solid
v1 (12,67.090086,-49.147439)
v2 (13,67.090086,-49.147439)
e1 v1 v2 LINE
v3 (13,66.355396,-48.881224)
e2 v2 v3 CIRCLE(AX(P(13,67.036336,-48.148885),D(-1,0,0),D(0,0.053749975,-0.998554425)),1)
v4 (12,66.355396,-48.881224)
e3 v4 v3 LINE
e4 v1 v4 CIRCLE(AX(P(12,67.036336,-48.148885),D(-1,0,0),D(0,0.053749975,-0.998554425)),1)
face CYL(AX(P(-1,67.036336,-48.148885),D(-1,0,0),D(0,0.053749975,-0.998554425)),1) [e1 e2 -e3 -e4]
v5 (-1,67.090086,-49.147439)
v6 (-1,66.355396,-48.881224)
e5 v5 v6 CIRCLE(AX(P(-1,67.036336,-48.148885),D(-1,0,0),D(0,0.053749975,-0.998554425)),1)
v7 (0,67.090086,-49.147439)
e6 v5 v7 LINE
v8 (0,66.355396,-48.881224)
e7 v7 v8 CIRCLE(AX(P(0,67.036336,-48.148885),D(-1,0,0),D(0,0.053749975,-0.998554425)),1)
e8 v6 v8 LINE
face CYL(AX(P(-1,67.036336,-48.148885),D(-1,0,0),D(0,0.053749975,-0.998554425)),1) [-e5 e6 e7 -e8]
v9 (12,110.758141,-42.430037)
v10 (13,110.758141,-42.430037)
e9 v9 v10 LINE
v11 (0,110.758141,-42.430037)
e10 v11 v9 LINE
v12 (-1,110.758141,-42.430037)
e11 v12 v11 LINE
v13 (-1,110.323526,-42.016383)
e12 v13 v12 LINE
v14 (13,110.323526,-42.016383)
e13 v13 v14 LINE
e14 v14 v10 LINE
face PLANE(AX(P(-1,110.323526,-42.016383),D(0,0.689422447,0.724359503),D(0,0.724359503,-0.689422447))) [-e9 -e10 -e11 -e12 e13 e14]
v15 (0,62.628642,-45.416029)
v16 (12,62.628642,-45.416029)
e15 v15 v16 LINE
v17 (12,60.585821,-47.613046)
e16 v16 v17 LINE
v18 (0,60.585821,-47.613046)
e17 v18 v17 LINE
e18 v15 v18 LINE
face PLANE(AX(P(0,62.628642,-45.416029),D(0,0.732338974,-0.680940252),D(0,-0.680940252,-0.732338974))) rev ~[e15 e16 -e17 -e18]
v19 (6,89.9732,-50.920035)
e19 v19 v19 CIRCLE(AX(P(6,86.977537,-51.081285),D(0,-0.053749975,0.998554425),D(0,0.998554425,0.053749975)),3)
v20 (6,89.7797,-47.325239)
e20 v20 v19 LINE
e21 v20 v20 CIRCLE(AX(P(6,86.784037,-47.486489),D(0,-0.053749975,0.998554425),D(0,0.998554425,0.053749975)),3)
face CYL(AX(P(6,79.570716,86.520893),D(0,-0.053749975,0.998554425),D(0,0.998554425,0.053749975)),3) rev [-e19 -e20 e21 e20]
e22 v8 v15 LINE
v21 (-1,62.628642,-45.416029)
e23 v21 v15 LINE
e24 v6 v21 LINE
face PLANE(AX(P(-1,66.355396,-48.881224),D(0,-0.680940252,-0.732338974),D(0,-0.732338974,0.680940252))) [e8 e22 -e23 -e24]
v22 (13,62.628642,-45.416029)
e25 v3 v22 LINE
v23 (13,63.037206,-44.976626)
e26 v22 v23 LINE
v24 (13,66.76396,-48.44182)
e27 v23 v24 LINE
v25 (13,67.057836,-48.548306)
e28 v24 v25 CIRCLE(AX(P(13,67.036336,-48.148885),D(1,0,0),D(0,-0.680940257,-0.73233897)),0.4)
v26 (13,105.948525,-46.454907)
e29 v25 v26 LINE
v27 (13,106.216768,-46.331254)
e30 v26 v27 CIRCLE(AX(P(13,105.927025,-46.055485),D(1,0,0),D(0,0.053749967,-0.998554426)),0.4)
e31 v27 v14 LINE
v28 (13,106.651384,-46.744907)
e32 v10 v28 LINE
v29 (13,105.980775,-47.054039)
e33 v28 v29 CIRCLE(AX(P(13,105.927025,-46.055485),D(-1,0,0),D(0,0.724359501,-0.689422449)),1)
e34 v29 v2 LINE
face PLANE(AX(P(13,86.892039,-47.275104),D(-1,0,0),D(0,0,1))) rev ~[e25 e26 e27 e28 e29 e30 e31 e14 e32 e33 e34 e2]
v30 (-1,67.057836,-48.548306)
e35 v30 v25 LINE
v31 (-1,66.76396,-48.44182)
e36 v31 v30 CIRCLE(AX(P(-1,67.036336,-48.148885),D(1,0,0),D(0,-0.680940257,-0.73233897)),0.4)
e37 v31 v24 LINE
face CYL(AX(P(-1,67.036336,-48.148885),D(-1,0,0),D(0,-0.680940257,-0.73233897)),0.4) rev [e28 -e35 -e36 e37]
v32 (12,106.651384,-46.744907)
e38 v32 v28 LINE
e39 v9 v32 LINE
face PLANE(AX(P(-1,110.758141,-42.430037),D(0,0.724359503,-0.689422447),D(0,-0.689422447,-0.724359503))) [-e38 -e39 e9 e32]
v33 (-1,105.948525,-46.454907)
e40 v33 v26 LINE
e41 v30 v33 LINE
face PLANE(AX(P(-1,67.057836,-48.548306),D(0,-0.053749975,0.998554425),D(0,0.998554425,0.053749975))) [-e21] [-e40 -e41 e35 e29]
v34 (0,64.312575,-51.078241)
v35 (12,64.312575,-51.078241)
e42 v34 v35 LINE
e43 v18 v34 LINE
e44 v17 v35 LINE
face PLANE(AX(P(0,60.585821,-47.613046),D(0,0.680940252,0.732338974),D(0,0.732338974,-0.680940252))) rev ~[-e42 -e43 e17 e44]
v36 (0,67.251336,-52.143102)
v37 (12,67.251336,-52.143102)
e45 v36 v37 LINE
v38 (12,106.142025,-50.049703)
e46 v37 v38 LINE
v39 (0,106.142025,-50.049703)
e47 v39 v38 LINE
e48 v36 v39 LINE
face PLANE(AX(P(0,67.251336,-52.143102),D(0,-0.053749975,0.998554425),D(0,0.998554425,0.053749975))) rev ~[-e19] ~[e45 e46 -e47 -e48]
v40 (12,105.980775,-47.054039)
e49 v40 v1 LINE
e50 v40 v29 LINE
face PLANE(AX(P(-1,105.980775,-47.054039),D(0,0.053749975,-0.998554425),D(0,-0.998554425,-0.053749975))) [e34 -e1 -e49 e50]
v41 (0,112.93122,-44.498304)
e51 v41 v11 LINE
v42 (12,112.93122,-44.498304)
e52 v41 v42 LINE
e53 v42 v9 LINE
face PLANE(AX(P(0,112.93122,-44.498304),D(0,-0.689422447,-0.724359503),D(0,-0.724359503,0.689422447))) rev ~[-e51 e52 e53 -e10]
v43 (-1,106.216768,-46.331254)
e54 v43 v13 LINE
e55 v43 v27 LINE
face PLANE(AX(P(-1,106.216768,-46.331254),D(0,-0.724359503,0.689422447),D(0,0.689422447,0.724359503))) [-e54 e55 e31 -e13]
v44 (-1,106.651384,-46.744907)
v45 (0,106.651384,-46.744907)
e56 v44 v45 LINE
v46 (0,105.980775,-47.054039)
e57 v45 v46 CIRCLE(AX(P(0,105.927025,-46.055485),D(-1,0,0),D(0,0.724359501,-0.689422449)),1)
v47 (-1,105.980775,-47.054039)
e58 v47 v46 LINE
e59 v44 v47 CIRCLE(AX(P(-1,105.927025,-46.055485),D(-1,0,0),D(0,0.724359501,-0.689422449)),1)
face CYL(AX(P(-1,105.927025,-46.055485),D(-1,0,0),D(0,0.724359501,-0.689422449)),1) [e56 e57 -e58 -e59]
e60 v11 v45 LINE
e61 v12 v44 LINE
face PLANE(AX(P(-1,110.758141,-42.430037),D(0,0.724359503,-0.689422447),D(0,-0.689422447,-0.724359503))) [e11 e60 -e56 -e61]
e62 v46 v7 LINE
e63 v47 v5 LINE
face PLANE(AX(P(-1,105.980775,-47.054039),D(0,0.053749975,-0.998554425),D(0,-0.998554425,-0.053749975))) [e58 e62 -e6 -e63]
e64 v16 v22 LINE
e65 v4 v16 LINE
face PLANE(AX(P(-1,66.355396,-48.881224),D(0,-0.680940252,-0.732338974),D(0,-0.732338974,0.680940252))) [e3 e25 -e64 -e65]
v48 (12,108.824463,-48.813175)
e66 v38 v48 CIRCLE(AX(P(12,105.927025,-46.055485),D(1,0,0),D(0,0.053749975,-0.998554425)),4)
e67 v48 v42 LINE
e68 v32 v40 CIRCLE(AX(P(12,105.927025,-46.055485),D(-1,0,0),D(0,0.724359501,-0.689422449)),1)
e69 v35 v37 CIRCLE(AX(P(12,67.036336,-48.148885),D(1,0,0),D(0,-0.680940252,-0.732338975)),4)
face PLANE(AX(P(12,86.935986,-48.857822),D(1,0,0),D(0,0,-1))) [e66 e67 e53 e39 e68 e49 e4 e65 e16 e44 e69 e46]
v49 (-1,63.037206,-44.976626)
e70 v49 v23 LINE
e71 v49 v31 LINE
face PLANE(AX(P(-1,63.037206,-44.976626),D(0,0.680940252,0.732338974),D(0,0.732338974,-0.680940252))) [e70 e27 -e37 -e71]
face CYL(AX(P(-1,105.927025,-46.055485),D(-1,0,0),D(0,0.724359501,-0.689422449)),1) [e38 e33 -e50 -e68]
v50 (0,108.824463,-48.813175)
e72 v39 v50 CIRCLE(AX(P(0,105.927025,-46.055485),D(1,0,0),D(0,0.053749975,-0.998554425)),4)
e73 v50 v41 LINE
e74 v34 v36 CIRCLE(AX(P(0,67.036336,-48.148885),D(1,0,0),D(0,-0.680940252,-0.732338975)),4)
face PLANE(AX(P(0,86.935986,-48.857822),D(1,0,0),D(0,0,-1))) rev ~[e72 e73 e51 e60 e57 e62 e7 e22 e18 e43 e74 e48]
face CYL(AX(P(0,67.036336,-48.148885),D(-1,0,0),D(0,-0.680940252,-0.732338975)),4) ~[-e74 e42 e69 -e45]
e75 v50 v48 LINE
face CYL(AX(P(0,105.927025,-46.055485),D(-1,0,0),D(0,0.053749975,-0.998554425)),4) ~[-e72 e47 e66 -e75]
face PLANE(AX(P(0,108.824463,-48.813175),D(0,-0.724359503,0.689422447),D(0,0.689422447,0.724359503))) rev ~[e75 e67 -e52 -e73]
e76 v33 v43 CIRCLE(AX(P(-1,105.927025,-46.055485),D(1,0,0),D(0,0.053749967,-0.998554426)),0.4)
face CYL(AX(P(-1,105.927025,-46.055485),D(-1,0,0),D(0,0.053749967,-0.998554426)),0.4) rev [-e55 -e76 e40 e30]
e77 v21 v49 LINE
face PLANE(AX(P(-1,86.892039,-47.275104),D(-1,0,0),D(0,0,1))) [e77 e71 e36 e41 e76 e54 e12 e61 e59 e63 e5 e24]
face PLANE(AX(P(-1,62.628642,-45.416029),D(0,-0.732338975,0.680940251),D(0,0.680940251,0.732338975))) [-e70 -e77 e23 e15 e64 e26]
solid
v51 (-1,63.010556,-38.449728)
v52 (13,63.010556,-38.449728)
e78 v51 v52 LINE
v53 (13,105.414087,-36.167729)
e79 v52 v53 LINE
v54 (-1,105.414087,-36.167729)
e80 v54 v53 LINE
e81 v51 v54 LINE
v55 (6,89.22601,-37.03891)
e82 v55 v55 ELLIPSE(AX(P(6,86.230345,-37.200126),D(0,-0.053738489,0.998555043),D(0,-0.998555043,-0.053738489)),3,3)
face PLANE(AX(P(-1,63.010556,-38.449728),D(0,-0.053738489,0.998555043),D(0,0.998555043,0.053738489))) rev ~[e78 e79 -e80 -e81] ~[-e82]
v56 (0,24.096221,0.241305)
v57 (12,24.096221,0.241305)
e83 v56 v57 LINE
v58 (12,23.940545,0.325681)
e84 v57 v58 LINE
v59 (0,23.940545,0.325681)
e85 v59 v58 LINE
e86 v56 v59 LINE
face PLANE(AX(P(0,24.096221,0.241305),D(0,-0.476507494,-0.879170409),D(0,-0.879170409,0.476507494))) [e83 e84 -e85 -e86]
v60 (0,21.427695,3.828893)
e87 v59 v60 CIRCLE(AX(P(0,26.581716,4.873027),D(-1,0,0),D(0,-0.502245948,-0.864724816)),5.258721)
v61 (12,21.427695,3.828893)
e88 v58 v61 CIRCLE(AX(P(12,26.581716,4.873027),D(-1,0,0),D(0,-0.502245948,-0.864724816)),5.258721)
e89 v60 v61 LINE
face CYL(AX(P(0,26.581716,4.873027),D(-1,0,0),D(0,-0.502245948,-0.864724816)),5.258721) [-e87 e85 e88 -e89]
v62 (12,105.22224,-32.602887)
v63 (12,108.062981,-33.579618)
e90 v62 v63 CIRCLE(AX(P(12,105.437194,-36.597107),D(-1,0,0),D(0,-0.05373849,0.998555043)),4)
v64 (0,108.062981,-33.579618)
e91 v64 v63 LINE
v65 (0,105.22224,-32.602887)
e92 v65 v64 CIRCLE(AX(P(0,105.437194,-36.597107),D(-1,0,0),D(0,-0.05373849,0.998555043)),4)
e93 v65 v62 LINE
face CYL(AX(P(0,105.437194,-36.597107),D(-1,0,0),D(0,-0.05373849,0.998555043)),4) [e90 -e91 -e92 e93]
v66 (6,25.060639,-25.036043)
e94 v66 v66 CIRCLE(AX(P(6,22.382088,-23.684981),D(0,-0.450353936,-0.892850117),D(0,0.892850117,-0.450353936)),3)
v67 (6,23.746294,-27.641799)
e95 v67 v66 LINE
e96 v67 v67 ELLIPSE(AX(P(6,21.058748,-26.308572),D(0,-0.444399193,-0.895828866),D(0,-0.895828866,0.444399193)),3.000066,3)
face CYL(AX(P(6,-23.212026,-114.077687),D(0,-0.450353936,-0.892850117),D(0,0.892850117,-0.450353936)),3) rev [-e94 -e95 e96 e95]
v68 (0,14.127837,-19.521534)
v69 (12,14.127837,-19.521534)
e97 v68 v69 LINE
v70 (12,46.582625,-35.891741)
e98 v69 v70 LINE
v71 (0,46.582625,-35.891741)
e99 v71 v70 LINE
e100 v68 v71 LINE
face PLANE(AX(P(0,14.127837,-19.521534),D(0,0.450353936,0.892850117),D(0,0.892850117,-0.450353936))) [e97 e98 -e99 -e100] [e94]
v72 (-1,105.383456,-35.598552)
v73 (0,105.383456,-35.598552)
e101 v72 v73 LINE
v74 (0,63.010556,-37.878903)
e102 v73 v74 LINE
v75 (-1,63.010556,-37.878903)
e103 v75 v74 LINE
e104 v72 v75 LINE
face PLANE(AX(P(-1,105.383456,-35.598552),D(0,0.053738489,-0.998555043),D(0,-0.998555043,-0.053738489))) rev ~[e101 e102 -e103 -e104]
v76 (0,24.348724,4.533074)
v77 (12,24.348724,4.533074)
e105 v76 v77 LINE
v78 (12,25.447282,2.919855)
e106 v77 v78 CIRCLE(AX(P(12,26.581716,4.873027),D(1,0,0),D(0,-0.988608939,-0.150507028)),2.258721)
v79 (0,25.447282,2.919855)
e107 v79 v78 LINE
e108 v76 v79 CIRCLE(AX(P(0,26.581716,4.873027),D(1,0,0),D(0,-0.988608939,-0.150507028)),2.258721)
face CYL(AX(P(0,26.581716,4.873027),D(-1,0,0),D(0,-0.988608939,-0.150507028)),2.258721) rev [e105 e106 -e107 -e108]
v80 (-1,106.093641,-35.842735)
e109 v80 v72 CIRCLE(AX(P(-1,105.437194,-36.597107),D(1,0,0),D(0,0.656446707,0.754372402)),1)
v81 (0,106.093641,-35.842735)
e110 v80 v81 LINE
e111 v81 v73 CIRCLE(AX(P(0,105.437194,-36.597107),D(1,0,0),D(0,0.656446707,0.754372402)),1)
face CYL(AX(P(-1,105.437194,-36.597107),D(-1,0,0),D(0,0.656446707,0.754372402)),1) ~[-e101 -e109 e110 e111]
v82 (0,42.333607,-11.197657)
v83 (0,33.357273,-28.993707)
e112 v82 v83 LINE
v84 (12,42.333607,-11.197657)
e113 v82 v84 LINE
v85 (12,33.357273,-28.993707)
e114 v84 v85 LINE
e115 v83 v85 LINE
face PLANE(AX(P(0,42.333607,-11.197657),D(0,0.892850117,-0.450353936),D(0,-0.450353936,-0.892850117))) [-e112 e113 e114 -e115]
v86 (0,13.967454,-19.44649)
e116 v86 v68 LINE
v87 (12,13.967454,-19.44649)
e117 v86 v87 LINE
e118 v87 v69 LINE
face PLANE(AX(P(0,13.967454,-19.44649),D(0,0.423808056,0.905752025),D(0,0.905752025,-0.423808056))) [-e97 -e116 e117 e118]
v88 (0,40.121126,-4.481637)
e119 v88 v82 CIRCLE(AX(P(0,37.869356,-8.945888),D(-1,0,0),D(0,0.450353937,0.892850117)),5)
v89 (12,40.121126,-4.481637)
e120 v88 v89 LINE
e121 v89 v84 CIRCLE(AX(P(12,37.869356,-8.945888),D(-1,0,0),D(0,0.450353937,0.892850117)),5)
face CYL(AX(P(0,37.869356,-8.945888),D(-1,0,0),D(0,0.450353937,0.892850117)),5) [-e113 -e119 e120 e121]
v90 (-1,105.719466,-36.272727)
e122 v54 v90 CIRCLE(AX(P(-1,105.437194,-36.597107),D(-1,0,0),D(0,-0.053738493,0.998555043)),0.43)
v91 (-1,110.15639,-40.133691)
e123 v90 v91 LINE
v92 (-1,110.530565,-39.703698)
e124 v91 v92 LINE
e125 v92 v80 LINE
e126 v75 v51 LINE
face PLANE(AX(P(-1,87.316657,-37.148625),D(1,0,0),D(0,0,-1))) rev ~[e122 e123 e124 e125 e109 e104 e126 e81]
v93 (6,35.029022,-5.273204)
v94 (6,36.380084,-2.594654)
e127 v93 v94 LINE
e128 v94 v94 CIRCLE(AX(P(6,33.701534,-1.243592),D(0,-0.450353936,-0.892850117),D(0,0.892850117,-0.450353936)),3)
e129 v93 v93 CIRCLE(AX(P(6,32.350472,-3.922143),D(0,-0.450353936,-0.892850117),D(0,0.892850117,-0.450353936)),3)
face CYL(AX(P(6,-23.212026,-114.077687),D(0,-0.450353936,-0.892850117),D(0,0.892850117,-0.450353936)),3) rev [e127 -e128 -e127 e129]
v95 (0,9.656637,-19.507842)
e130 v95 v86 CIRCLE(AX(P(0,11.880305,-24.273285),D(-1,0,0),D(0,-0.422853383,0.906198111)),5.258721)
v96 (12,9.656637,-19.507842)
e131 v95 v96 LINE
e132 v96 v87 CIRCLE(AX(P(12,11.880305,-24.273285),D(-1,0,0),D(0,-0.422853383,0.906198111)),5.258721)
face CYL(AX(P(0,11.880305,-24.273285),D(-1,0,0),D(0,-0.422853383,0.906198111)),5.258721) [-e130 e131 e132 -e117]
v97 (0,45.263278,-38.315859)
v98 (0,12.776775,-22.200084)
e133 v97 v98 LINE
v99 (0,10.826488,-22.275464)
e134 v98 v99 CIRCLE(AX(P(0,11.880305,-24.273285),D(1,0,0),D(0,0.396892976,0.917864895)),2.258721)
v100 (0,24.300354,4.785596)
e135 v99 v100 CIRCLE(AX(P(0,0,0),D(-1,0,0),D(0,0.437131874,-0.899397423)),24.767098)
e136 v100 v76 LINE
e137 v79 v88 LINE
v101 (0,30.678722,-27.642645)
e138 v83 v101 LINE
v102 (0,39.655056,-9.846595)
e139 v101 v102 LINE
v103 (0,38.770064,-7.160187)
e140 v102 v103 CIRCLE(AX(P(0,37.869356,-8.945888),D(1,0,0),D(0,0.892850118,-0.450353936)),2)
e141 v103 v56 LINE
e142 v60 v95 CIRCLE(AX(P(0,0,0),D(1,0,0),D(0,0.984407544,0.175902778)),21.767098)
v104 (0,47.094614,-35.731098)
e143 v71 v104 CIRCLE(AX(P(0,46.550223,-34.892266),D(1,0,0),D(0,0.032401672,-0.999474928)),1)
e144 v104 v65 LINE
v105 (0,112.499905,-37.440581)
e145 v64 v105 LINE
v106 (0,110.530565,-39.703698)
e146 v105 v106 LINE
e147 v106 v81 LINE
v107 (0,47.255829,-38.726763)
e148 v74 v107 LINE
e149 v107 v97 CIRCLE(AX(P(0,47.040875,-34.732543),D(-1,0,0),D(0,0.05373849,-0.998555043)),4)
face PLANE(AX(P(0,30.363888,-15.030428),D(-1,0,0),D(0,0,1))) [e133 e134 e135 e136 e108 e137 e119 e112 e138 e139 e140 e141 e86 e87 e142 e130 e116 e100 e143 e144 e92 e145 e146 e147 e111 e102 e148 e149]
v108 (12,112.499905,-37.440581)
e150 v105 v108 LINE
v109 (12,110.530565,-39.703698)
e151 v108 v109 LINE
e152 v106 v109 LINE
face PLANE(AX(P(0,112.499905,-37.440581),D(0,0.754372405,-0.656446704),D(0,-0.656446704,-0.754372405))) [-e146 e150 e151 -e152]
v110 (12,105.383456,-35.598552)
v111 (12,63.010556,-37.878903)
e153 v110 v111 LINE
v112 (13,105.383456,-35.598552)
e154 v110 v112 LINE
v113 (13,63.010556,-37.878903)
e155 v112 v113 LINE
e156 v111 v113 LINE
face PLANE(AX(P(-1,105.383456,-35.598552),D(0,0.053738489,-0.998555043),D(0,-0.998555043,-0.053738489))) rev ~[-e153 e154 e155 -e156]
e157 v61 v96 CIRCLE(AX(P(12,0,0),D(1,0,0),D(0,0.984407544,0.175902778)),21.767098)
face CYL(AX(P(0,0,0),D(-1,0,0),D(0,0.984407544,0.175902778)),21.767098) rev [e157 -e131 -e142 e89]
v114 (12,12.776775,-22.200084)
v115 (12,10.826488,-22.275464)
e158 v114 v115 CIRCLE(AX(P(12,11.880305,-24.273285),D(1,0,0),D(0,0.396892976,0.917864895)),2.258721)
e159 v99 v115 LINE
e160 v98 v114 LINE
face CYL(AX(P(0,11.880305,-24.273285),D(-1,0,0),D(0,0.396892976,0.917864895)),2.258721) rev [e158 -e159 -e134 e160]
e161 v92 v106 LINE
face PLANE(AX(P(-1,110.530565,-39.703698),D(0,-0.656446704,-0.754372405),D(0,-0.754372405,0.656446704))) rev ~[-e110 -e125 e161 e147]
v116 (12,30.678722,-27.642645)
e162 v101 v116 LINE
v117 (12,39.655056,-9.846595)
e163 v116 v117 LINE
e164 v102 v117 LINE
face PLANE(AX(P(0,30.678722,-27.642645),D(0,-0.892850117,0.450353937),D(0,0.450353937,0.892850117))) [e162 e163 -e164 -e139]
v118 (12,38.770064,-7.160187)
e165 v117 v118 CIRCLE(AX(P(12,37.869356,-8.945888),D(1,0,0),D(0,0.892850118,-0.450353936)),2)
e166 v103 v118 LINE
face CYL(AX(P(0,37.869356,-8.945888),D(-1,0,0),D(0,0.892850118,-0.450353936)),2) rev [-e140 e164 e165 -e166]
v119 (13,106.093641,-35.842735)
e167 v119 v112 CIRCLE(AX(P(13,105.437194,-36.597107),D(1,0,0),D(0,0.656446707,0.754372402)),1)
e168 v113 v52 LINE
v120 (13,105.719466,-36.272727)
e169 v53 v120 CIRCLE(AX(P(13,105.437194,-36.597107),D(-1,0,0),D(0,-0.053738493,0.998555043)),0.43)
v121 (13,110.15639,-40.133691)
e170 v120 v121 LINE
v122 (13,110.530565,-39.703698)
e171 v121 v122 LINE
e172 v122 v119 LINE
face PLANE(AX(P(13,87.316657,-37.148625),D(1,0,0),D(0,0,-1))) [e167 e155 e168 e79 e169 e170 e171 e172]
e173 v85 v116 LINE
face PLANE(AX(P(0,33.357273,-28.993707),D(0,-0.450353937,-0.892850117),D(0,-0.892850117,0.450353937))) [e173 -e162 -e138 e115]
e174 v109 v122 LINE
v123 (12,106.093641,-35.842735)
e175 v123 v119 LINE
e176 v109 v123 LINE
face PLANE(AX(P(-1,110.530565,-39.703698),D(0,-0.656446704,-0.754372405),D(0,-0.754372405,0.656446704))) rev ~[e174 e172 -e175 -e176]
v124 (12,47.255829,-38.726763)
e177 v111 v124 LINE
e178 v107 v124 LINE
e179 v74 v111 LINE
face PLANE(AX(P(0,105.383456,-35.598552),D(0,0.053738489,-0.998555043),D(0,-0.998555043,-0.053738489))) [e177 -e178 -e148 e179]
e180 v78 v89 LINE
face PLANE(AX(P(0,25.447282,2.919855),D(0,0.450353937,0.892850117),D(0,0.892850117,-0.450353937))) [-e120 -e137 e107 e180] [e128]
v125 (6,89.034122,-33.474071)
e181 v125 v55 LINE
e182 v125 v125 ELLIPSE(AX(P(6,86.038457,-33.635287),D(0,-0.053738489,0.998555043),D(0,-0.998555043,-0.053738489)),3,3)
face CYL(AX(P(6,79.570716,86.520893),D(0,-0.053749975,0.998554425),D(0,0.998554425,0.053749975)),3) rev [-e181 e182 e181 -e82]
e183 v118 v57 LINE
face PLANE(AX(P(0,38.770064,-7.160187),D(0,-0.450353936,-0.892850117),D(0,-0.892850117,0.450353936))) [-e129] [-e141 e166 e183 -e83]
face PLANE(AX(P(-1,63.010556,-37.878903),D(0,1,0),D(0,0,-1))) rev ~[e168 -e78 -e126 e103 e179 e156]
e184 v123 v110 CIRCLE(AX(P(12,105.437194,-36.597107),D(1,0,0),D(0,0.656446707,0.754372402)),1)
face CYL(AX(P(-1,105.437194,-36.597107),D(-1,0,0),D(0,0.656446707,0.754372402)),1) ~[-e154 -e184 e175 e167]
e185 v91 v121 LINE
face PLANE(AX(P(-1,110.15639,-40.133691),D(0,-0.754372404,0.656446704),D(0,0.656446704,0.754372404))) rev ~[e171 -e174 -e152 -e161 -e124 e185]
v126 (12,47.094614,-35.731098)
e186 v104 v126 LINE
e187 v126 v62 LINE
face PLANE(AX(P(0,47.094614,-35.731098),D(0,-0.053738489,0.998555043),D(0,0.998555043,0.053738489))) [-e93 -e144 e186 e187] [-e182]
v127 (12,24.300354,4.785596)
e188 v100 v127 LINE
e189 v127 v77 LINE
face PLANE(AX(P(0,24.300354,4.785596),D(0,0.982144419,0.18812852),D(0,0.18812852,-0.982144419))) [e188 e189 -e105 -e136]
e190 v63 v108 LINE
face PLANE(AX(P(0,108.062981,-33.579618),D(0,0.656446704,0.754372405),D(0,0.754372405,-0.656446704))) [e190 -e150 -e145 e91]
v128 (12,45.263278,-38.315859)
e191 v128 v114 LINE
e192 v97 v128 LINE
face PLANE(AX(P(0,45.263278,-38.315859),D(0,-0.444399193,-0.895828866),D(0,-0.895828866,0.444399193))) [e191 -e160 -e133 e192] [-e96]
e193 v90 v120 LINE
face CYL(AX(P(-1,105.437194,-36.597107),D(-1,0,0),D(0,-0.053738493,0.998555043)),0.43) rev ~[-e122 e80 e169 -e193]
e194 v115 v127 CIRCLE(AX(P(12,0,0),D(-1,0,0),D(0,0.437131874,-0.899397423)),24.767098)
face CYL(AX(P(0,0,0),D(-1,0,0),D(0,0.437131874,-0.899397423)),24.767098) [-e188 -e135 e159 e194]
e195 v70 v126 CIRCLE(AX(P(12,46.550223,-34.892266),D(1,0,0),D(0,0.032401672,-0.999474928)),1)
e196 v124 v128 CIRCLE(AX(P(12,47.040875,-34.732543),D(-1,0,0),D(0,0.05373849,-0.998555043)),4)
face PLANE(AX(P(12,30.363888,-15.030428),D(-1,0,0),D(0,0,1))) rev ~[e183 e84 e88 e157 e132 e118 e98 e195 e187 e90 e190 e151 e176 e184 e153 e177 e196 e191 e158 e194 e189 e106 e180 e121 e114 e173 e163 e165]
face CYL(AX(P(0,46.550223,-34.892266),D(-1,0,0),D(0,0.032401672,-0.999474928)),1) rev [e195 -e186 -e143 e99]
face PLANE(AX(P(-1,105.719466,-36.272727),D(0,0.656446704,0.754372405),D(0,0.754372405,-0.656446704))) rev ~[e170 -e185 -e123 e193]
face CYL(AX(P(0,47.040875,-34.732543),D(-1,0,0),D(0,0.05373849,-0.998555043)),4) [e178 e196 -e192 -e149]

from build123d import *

# Parameters (mm, degrees)
Y_KSEKLIK_EKSTR_ZYON1_DEPTH      = 12
Y_KSEKLIK_EKSTR_ZYON1_2_DEPTH    = 12
Y_KSEKLIK_EKSTR_ZYON2_DEPTH      = 13
Y_KSEKLIK_EKSTR_ZYON2_DEPTH_BACK = 1
KES_EKSTR_ZYON1_DEPTH            = 137.801379342
KES_EKSTR_ZYON1_DEPTH_BACK       = 137.801379342
IZIM3_R                          = 3
KES_EKSTR_ZYON2_DEPTH            = 126.375180465
KES_EKSTR_ZYON2_DEPTH_BACK       = 126.375180465
IZIM4_R                          = 3


with BuildPart() as part:
    # Çizim1 → Yükseklik-Ekstrüzyon1 (new body)
    with BuildSketch(Plane(origin=(0, 0, 0), x_dir=(0, 0, -1), z_dir=(1, 0, 0))):
        with BuildLine():
            Line((39.703698303, 110.530564835), (35.842735006, 106.093640789))
            ThreePointArc((35.842735006, 106.093640789), (35.651443933, 105.762341111), (35.598552367, 105.383455596))
            Line((35.598552367, 105.383455596), (38.726763322, 47.255829212))
            ThreePointArc((38.726763322, 47.255829212), (38.650109509, 46.232992954), (38.315858613, 45.263278483))
            Line((38.315858613, 45.263278483), (22.20008442, 12.776775479))
            ThreePointArc((22.20008442, 12.776775479), (22.01624938, 11.793069649), (22.275463947, 10.826487893))
            ThreePointArc((22.275463947, 10.826487893), (-11.039027997, -22.170904245), (-4.785595814, 24.300354048))
            Line((-4.785595814, 24.300354048), (-4.533073597, 24.348724359))
            ThreePointArc((-4.533073597, 24.348724359), (-3.601683862, 24.714764855), (-2.919855141, 25.447282485))
            Line((-2.919855141, 25.447282485), (4.481637012, 40.121125879))
            ThreePointArc((4.481637012, 40.121125879), (7.381427348, 42.618299671), (11.19765728, 42.333606783))
            Line((11.19765728, 42.333606783), (28.993707017, 33.357272572))
            Line((28.993707017, 33.357272572), (27.642645207, 30.67872222))
            Line((27.642645207, 30.67872222), (9.846595471, 39.655056431))
            ThreePointArc((9.846595471, 39.655056431), (8.320103498, 39.768933586), (7.160187363, 38.77006407))
            Line((7.160187363, 38.77006407), (-0.241304789, 24.096220675))
            Line((-0.241304789, 24.096220675), (-0.325680691, 23.940544642))
            ThreePointArc((-0.325680691, 23.940544642), (-1.807938736, 22.308616532), (-3.828892979, 21.427695299))
            ThreePointArc((-3.828892979, 21.427695299), (-9.802898187, -19.434755836), (19.507842092, 9.656637312))
            ThreePointArc((19.507842092, 9.656637312), (19.015096672, 11.805469604), (19.446489735, 13.967454409))
            Line((19.446489735, 13.967454409), (19.521534068, 14.127837289))
            Line((19.521534068, 14.127837289), (35.891741207, 46.582624912))
            ThreePointArc((35.891741207, 46.582624912), (35.846402617, 46.849595664), (35.731098192, 47.094613744))
            Line((35.731098192, 47.094613744), (32.602887237, 105.222240128))
            ThreePointArc((32.602887237, 105.222240128), (32.814453502, 106.737782188), (33.579617792, 108.062980901))
            Line((33.579617792, 108.062980901), (37.440581089, 112.499904947))
            Line((37.440581089, 112.499904947), (39.703698303, 110.530564835))
        make_face()
    extrude(amount=Y_KSEKLIK_EKSTR_ZYON1_DEPTH)



with BuildPart() as body_2:
    # Çizim1 → Y_kseklik-Ekstr_zyon1 2 (new body)
    with BuildSketch(Plane(origin=(0, 0, 0), x_dir=(0, 0, -1), z_dir=(1, 0, 0))):
        with BuildLine():
            Line((42.430036911, 110.758141291), (46.744907402, 106.651384134))
            ThreePointArc((46.744907402, 106.651384134), (46.963640098, 106.345658403), (47.05403938, 105.980774606))
            Line((47.05403938, 105.980774606), (49.147439107, 67.090085781))
            ThreePointArc((49.147439107, 67.090085781), (49.08906574, 66.695660627), (48.881223656, 66.355395554))
            Line((48.881223656, 66.355395554), (45.416029412, 62.628641566))
            Line((45.416029412, 62.628641566), (47.613046335, 60.585820811))
            Line((47.613046335, 60.585820811), (51.078240579, 64.312574798))
            ThreePointArc((51.078240579, 64.312574798), (51.909608915, 65.673635091), (52.143102382, 67.251335707))
            Line((52.143102382, 67.251335707), (50.049702655, 106.142024532))
            ThreePointArc((50.049702655, 106.142024532), (49.688105529, 107.601559718), (48.813174743, 108.824462642))
            Line((48.813174743, 108.824462642), (44.498304253, 112.9312198))
            Line((44.498304253, 112.9312198), (42.430036911, 110.758141291))
        make_face()
    extrude(amount=Y_KSEKLIK_EKSTR_ZYON1_2_DEPTH)


with BuildPart() as part_1:
    add(part.part)

    add(body_2.part)  # Yükseklik-Ekstrüzyon2 merges body 2
    # Çizim2 → Yükseklik-Ekstrüzyon2 (add, two sides: drawn at the far end of the back side and taken through both)
    with BuildSketch(Plane(origin=(0, 0, 0), x_dir=(0, 0, -1), z_dir=(1, 0, 0)).offset(-Y_KSEKLIK_EKSTR_ZYON2_DEPTH_BACK)):
        with BuildLine():
            Line((39.703698303, 110.530564835), (35.842735006, 106.093640789))
            ThreePointArc((35.842735006, 106.093640789), (35.651443933, 105.762341111), (35.598552367, 105.383455596))
            Line((35.598552367, 105.383455596), (37.878903007, 63.010555577))
            Line((37.878903007, 63.010555577), (38.449727824, 63.010555577))
            Line((38.449727824, 63.010555577), (36.167728742, 105.414086535))
            ThreePointArc((36.167728742, 105.414086535), (36.190472115, 105.577007306), (36.272727276, 105.719466168))
            Line((36.272727276, 105.719466168), (40.133690573, 110.156390214))
            Line((40.133690573, 110.156390214), (39.703698303, 110.530564835))
        make_face()
        with BuildLine():
            Line((42.430036911, 110.758141291), (46.744907402, 106.651384134))
            ThreePointArc((46.744907402, 106.651384134), (46.963640098, 106.345658403), (47.05403938, 105.980774606))
            Line((47.05403938, 105.980774606), (49.147439107, 67.090085781))
            ThreePointArc((49.147439107, 67.090085781), (49.08906574, 66.695660627), (48.881223656, 66.355395554))
            Line((48.881223656, 66.355395554), (45.416029412, 62.628641566))
            Line((45.416029412, 62.628641566), (44.976626027, 63.037205717))
            Line((44.976626027, 63.037205717), (48.441820271, 66.763959705))
            ThreePointArc((48.441820271, 66.763959705), (48.524957105, 66.900065734), (48.548306451, 67.057835796))
            Line((48.548306451, 67.057835796), (46.454906724, 105.948524621))
            ThreePointArc((46.454906724, 105.948524621), (46.418747012, 106.09447814), (46.331253933, 106.216768432))
            Line((46.331253933, 106.216768432), (42.016383443, 110.32352559))
            Line((42.016383443, 110.32352559), (42.430036911, 110.758141291))
        make_face()
    extrude(amount=Y_KSEKLIK_EKSTR_ZYON2_DEPTH + Y_KSEKLIK_EKSTR_ZYON2_DEPTH_BACK)

    # Çizim3 → Kes-Ekstrüzyon1 (cut, two sides: drawn at the far end of the back side and taken through both)
    with BuildSketch(Plane(origin=(0, 2.992932096, -55.601990066), x_dir=(-1, 0, 0), z_dir=(0, 0.053749975234598533, -0.9985544252379438)).offset(-KES_EKSTR_ZYON1_DEPTH_BACK)):
        with Locations(Location((-6, 84.106186527, 0), (0, 0, 90))):
            Circle(IZIM3_R)
    extrude(amount=KES_EKSTR_ZYON1_DEPTH + KES_EKSTR_ZYON1_DEPTH_BACK, mode=Mode.SUBTRACT)

    # Çizim4 → Kes-Ekstrüzyon2 (cut, two sides: drawn at the far end of the back side and taken through both)
    with BuildSketch(Plane(origin=(0, 6.335253503, 12.55996978), x_dir=(1, 0, 0), z_dir=(0, 0.45035393648807964, 0.8928501172591571)).offset(-KES_EKSTR_ZYON2_DEPTH_BACK)):
        with Locations(Location((6, 30.650474816, 0), (0, 0, 90))):
            Circle(IZIM4_R)
    extrude(amount=KES_EKSTR_ZYON2_DEPTH + KES_EKSTR_ZYON2_DEPTH_BACK, mode=Mode.SUBTRACT)


solid = part_1.part
